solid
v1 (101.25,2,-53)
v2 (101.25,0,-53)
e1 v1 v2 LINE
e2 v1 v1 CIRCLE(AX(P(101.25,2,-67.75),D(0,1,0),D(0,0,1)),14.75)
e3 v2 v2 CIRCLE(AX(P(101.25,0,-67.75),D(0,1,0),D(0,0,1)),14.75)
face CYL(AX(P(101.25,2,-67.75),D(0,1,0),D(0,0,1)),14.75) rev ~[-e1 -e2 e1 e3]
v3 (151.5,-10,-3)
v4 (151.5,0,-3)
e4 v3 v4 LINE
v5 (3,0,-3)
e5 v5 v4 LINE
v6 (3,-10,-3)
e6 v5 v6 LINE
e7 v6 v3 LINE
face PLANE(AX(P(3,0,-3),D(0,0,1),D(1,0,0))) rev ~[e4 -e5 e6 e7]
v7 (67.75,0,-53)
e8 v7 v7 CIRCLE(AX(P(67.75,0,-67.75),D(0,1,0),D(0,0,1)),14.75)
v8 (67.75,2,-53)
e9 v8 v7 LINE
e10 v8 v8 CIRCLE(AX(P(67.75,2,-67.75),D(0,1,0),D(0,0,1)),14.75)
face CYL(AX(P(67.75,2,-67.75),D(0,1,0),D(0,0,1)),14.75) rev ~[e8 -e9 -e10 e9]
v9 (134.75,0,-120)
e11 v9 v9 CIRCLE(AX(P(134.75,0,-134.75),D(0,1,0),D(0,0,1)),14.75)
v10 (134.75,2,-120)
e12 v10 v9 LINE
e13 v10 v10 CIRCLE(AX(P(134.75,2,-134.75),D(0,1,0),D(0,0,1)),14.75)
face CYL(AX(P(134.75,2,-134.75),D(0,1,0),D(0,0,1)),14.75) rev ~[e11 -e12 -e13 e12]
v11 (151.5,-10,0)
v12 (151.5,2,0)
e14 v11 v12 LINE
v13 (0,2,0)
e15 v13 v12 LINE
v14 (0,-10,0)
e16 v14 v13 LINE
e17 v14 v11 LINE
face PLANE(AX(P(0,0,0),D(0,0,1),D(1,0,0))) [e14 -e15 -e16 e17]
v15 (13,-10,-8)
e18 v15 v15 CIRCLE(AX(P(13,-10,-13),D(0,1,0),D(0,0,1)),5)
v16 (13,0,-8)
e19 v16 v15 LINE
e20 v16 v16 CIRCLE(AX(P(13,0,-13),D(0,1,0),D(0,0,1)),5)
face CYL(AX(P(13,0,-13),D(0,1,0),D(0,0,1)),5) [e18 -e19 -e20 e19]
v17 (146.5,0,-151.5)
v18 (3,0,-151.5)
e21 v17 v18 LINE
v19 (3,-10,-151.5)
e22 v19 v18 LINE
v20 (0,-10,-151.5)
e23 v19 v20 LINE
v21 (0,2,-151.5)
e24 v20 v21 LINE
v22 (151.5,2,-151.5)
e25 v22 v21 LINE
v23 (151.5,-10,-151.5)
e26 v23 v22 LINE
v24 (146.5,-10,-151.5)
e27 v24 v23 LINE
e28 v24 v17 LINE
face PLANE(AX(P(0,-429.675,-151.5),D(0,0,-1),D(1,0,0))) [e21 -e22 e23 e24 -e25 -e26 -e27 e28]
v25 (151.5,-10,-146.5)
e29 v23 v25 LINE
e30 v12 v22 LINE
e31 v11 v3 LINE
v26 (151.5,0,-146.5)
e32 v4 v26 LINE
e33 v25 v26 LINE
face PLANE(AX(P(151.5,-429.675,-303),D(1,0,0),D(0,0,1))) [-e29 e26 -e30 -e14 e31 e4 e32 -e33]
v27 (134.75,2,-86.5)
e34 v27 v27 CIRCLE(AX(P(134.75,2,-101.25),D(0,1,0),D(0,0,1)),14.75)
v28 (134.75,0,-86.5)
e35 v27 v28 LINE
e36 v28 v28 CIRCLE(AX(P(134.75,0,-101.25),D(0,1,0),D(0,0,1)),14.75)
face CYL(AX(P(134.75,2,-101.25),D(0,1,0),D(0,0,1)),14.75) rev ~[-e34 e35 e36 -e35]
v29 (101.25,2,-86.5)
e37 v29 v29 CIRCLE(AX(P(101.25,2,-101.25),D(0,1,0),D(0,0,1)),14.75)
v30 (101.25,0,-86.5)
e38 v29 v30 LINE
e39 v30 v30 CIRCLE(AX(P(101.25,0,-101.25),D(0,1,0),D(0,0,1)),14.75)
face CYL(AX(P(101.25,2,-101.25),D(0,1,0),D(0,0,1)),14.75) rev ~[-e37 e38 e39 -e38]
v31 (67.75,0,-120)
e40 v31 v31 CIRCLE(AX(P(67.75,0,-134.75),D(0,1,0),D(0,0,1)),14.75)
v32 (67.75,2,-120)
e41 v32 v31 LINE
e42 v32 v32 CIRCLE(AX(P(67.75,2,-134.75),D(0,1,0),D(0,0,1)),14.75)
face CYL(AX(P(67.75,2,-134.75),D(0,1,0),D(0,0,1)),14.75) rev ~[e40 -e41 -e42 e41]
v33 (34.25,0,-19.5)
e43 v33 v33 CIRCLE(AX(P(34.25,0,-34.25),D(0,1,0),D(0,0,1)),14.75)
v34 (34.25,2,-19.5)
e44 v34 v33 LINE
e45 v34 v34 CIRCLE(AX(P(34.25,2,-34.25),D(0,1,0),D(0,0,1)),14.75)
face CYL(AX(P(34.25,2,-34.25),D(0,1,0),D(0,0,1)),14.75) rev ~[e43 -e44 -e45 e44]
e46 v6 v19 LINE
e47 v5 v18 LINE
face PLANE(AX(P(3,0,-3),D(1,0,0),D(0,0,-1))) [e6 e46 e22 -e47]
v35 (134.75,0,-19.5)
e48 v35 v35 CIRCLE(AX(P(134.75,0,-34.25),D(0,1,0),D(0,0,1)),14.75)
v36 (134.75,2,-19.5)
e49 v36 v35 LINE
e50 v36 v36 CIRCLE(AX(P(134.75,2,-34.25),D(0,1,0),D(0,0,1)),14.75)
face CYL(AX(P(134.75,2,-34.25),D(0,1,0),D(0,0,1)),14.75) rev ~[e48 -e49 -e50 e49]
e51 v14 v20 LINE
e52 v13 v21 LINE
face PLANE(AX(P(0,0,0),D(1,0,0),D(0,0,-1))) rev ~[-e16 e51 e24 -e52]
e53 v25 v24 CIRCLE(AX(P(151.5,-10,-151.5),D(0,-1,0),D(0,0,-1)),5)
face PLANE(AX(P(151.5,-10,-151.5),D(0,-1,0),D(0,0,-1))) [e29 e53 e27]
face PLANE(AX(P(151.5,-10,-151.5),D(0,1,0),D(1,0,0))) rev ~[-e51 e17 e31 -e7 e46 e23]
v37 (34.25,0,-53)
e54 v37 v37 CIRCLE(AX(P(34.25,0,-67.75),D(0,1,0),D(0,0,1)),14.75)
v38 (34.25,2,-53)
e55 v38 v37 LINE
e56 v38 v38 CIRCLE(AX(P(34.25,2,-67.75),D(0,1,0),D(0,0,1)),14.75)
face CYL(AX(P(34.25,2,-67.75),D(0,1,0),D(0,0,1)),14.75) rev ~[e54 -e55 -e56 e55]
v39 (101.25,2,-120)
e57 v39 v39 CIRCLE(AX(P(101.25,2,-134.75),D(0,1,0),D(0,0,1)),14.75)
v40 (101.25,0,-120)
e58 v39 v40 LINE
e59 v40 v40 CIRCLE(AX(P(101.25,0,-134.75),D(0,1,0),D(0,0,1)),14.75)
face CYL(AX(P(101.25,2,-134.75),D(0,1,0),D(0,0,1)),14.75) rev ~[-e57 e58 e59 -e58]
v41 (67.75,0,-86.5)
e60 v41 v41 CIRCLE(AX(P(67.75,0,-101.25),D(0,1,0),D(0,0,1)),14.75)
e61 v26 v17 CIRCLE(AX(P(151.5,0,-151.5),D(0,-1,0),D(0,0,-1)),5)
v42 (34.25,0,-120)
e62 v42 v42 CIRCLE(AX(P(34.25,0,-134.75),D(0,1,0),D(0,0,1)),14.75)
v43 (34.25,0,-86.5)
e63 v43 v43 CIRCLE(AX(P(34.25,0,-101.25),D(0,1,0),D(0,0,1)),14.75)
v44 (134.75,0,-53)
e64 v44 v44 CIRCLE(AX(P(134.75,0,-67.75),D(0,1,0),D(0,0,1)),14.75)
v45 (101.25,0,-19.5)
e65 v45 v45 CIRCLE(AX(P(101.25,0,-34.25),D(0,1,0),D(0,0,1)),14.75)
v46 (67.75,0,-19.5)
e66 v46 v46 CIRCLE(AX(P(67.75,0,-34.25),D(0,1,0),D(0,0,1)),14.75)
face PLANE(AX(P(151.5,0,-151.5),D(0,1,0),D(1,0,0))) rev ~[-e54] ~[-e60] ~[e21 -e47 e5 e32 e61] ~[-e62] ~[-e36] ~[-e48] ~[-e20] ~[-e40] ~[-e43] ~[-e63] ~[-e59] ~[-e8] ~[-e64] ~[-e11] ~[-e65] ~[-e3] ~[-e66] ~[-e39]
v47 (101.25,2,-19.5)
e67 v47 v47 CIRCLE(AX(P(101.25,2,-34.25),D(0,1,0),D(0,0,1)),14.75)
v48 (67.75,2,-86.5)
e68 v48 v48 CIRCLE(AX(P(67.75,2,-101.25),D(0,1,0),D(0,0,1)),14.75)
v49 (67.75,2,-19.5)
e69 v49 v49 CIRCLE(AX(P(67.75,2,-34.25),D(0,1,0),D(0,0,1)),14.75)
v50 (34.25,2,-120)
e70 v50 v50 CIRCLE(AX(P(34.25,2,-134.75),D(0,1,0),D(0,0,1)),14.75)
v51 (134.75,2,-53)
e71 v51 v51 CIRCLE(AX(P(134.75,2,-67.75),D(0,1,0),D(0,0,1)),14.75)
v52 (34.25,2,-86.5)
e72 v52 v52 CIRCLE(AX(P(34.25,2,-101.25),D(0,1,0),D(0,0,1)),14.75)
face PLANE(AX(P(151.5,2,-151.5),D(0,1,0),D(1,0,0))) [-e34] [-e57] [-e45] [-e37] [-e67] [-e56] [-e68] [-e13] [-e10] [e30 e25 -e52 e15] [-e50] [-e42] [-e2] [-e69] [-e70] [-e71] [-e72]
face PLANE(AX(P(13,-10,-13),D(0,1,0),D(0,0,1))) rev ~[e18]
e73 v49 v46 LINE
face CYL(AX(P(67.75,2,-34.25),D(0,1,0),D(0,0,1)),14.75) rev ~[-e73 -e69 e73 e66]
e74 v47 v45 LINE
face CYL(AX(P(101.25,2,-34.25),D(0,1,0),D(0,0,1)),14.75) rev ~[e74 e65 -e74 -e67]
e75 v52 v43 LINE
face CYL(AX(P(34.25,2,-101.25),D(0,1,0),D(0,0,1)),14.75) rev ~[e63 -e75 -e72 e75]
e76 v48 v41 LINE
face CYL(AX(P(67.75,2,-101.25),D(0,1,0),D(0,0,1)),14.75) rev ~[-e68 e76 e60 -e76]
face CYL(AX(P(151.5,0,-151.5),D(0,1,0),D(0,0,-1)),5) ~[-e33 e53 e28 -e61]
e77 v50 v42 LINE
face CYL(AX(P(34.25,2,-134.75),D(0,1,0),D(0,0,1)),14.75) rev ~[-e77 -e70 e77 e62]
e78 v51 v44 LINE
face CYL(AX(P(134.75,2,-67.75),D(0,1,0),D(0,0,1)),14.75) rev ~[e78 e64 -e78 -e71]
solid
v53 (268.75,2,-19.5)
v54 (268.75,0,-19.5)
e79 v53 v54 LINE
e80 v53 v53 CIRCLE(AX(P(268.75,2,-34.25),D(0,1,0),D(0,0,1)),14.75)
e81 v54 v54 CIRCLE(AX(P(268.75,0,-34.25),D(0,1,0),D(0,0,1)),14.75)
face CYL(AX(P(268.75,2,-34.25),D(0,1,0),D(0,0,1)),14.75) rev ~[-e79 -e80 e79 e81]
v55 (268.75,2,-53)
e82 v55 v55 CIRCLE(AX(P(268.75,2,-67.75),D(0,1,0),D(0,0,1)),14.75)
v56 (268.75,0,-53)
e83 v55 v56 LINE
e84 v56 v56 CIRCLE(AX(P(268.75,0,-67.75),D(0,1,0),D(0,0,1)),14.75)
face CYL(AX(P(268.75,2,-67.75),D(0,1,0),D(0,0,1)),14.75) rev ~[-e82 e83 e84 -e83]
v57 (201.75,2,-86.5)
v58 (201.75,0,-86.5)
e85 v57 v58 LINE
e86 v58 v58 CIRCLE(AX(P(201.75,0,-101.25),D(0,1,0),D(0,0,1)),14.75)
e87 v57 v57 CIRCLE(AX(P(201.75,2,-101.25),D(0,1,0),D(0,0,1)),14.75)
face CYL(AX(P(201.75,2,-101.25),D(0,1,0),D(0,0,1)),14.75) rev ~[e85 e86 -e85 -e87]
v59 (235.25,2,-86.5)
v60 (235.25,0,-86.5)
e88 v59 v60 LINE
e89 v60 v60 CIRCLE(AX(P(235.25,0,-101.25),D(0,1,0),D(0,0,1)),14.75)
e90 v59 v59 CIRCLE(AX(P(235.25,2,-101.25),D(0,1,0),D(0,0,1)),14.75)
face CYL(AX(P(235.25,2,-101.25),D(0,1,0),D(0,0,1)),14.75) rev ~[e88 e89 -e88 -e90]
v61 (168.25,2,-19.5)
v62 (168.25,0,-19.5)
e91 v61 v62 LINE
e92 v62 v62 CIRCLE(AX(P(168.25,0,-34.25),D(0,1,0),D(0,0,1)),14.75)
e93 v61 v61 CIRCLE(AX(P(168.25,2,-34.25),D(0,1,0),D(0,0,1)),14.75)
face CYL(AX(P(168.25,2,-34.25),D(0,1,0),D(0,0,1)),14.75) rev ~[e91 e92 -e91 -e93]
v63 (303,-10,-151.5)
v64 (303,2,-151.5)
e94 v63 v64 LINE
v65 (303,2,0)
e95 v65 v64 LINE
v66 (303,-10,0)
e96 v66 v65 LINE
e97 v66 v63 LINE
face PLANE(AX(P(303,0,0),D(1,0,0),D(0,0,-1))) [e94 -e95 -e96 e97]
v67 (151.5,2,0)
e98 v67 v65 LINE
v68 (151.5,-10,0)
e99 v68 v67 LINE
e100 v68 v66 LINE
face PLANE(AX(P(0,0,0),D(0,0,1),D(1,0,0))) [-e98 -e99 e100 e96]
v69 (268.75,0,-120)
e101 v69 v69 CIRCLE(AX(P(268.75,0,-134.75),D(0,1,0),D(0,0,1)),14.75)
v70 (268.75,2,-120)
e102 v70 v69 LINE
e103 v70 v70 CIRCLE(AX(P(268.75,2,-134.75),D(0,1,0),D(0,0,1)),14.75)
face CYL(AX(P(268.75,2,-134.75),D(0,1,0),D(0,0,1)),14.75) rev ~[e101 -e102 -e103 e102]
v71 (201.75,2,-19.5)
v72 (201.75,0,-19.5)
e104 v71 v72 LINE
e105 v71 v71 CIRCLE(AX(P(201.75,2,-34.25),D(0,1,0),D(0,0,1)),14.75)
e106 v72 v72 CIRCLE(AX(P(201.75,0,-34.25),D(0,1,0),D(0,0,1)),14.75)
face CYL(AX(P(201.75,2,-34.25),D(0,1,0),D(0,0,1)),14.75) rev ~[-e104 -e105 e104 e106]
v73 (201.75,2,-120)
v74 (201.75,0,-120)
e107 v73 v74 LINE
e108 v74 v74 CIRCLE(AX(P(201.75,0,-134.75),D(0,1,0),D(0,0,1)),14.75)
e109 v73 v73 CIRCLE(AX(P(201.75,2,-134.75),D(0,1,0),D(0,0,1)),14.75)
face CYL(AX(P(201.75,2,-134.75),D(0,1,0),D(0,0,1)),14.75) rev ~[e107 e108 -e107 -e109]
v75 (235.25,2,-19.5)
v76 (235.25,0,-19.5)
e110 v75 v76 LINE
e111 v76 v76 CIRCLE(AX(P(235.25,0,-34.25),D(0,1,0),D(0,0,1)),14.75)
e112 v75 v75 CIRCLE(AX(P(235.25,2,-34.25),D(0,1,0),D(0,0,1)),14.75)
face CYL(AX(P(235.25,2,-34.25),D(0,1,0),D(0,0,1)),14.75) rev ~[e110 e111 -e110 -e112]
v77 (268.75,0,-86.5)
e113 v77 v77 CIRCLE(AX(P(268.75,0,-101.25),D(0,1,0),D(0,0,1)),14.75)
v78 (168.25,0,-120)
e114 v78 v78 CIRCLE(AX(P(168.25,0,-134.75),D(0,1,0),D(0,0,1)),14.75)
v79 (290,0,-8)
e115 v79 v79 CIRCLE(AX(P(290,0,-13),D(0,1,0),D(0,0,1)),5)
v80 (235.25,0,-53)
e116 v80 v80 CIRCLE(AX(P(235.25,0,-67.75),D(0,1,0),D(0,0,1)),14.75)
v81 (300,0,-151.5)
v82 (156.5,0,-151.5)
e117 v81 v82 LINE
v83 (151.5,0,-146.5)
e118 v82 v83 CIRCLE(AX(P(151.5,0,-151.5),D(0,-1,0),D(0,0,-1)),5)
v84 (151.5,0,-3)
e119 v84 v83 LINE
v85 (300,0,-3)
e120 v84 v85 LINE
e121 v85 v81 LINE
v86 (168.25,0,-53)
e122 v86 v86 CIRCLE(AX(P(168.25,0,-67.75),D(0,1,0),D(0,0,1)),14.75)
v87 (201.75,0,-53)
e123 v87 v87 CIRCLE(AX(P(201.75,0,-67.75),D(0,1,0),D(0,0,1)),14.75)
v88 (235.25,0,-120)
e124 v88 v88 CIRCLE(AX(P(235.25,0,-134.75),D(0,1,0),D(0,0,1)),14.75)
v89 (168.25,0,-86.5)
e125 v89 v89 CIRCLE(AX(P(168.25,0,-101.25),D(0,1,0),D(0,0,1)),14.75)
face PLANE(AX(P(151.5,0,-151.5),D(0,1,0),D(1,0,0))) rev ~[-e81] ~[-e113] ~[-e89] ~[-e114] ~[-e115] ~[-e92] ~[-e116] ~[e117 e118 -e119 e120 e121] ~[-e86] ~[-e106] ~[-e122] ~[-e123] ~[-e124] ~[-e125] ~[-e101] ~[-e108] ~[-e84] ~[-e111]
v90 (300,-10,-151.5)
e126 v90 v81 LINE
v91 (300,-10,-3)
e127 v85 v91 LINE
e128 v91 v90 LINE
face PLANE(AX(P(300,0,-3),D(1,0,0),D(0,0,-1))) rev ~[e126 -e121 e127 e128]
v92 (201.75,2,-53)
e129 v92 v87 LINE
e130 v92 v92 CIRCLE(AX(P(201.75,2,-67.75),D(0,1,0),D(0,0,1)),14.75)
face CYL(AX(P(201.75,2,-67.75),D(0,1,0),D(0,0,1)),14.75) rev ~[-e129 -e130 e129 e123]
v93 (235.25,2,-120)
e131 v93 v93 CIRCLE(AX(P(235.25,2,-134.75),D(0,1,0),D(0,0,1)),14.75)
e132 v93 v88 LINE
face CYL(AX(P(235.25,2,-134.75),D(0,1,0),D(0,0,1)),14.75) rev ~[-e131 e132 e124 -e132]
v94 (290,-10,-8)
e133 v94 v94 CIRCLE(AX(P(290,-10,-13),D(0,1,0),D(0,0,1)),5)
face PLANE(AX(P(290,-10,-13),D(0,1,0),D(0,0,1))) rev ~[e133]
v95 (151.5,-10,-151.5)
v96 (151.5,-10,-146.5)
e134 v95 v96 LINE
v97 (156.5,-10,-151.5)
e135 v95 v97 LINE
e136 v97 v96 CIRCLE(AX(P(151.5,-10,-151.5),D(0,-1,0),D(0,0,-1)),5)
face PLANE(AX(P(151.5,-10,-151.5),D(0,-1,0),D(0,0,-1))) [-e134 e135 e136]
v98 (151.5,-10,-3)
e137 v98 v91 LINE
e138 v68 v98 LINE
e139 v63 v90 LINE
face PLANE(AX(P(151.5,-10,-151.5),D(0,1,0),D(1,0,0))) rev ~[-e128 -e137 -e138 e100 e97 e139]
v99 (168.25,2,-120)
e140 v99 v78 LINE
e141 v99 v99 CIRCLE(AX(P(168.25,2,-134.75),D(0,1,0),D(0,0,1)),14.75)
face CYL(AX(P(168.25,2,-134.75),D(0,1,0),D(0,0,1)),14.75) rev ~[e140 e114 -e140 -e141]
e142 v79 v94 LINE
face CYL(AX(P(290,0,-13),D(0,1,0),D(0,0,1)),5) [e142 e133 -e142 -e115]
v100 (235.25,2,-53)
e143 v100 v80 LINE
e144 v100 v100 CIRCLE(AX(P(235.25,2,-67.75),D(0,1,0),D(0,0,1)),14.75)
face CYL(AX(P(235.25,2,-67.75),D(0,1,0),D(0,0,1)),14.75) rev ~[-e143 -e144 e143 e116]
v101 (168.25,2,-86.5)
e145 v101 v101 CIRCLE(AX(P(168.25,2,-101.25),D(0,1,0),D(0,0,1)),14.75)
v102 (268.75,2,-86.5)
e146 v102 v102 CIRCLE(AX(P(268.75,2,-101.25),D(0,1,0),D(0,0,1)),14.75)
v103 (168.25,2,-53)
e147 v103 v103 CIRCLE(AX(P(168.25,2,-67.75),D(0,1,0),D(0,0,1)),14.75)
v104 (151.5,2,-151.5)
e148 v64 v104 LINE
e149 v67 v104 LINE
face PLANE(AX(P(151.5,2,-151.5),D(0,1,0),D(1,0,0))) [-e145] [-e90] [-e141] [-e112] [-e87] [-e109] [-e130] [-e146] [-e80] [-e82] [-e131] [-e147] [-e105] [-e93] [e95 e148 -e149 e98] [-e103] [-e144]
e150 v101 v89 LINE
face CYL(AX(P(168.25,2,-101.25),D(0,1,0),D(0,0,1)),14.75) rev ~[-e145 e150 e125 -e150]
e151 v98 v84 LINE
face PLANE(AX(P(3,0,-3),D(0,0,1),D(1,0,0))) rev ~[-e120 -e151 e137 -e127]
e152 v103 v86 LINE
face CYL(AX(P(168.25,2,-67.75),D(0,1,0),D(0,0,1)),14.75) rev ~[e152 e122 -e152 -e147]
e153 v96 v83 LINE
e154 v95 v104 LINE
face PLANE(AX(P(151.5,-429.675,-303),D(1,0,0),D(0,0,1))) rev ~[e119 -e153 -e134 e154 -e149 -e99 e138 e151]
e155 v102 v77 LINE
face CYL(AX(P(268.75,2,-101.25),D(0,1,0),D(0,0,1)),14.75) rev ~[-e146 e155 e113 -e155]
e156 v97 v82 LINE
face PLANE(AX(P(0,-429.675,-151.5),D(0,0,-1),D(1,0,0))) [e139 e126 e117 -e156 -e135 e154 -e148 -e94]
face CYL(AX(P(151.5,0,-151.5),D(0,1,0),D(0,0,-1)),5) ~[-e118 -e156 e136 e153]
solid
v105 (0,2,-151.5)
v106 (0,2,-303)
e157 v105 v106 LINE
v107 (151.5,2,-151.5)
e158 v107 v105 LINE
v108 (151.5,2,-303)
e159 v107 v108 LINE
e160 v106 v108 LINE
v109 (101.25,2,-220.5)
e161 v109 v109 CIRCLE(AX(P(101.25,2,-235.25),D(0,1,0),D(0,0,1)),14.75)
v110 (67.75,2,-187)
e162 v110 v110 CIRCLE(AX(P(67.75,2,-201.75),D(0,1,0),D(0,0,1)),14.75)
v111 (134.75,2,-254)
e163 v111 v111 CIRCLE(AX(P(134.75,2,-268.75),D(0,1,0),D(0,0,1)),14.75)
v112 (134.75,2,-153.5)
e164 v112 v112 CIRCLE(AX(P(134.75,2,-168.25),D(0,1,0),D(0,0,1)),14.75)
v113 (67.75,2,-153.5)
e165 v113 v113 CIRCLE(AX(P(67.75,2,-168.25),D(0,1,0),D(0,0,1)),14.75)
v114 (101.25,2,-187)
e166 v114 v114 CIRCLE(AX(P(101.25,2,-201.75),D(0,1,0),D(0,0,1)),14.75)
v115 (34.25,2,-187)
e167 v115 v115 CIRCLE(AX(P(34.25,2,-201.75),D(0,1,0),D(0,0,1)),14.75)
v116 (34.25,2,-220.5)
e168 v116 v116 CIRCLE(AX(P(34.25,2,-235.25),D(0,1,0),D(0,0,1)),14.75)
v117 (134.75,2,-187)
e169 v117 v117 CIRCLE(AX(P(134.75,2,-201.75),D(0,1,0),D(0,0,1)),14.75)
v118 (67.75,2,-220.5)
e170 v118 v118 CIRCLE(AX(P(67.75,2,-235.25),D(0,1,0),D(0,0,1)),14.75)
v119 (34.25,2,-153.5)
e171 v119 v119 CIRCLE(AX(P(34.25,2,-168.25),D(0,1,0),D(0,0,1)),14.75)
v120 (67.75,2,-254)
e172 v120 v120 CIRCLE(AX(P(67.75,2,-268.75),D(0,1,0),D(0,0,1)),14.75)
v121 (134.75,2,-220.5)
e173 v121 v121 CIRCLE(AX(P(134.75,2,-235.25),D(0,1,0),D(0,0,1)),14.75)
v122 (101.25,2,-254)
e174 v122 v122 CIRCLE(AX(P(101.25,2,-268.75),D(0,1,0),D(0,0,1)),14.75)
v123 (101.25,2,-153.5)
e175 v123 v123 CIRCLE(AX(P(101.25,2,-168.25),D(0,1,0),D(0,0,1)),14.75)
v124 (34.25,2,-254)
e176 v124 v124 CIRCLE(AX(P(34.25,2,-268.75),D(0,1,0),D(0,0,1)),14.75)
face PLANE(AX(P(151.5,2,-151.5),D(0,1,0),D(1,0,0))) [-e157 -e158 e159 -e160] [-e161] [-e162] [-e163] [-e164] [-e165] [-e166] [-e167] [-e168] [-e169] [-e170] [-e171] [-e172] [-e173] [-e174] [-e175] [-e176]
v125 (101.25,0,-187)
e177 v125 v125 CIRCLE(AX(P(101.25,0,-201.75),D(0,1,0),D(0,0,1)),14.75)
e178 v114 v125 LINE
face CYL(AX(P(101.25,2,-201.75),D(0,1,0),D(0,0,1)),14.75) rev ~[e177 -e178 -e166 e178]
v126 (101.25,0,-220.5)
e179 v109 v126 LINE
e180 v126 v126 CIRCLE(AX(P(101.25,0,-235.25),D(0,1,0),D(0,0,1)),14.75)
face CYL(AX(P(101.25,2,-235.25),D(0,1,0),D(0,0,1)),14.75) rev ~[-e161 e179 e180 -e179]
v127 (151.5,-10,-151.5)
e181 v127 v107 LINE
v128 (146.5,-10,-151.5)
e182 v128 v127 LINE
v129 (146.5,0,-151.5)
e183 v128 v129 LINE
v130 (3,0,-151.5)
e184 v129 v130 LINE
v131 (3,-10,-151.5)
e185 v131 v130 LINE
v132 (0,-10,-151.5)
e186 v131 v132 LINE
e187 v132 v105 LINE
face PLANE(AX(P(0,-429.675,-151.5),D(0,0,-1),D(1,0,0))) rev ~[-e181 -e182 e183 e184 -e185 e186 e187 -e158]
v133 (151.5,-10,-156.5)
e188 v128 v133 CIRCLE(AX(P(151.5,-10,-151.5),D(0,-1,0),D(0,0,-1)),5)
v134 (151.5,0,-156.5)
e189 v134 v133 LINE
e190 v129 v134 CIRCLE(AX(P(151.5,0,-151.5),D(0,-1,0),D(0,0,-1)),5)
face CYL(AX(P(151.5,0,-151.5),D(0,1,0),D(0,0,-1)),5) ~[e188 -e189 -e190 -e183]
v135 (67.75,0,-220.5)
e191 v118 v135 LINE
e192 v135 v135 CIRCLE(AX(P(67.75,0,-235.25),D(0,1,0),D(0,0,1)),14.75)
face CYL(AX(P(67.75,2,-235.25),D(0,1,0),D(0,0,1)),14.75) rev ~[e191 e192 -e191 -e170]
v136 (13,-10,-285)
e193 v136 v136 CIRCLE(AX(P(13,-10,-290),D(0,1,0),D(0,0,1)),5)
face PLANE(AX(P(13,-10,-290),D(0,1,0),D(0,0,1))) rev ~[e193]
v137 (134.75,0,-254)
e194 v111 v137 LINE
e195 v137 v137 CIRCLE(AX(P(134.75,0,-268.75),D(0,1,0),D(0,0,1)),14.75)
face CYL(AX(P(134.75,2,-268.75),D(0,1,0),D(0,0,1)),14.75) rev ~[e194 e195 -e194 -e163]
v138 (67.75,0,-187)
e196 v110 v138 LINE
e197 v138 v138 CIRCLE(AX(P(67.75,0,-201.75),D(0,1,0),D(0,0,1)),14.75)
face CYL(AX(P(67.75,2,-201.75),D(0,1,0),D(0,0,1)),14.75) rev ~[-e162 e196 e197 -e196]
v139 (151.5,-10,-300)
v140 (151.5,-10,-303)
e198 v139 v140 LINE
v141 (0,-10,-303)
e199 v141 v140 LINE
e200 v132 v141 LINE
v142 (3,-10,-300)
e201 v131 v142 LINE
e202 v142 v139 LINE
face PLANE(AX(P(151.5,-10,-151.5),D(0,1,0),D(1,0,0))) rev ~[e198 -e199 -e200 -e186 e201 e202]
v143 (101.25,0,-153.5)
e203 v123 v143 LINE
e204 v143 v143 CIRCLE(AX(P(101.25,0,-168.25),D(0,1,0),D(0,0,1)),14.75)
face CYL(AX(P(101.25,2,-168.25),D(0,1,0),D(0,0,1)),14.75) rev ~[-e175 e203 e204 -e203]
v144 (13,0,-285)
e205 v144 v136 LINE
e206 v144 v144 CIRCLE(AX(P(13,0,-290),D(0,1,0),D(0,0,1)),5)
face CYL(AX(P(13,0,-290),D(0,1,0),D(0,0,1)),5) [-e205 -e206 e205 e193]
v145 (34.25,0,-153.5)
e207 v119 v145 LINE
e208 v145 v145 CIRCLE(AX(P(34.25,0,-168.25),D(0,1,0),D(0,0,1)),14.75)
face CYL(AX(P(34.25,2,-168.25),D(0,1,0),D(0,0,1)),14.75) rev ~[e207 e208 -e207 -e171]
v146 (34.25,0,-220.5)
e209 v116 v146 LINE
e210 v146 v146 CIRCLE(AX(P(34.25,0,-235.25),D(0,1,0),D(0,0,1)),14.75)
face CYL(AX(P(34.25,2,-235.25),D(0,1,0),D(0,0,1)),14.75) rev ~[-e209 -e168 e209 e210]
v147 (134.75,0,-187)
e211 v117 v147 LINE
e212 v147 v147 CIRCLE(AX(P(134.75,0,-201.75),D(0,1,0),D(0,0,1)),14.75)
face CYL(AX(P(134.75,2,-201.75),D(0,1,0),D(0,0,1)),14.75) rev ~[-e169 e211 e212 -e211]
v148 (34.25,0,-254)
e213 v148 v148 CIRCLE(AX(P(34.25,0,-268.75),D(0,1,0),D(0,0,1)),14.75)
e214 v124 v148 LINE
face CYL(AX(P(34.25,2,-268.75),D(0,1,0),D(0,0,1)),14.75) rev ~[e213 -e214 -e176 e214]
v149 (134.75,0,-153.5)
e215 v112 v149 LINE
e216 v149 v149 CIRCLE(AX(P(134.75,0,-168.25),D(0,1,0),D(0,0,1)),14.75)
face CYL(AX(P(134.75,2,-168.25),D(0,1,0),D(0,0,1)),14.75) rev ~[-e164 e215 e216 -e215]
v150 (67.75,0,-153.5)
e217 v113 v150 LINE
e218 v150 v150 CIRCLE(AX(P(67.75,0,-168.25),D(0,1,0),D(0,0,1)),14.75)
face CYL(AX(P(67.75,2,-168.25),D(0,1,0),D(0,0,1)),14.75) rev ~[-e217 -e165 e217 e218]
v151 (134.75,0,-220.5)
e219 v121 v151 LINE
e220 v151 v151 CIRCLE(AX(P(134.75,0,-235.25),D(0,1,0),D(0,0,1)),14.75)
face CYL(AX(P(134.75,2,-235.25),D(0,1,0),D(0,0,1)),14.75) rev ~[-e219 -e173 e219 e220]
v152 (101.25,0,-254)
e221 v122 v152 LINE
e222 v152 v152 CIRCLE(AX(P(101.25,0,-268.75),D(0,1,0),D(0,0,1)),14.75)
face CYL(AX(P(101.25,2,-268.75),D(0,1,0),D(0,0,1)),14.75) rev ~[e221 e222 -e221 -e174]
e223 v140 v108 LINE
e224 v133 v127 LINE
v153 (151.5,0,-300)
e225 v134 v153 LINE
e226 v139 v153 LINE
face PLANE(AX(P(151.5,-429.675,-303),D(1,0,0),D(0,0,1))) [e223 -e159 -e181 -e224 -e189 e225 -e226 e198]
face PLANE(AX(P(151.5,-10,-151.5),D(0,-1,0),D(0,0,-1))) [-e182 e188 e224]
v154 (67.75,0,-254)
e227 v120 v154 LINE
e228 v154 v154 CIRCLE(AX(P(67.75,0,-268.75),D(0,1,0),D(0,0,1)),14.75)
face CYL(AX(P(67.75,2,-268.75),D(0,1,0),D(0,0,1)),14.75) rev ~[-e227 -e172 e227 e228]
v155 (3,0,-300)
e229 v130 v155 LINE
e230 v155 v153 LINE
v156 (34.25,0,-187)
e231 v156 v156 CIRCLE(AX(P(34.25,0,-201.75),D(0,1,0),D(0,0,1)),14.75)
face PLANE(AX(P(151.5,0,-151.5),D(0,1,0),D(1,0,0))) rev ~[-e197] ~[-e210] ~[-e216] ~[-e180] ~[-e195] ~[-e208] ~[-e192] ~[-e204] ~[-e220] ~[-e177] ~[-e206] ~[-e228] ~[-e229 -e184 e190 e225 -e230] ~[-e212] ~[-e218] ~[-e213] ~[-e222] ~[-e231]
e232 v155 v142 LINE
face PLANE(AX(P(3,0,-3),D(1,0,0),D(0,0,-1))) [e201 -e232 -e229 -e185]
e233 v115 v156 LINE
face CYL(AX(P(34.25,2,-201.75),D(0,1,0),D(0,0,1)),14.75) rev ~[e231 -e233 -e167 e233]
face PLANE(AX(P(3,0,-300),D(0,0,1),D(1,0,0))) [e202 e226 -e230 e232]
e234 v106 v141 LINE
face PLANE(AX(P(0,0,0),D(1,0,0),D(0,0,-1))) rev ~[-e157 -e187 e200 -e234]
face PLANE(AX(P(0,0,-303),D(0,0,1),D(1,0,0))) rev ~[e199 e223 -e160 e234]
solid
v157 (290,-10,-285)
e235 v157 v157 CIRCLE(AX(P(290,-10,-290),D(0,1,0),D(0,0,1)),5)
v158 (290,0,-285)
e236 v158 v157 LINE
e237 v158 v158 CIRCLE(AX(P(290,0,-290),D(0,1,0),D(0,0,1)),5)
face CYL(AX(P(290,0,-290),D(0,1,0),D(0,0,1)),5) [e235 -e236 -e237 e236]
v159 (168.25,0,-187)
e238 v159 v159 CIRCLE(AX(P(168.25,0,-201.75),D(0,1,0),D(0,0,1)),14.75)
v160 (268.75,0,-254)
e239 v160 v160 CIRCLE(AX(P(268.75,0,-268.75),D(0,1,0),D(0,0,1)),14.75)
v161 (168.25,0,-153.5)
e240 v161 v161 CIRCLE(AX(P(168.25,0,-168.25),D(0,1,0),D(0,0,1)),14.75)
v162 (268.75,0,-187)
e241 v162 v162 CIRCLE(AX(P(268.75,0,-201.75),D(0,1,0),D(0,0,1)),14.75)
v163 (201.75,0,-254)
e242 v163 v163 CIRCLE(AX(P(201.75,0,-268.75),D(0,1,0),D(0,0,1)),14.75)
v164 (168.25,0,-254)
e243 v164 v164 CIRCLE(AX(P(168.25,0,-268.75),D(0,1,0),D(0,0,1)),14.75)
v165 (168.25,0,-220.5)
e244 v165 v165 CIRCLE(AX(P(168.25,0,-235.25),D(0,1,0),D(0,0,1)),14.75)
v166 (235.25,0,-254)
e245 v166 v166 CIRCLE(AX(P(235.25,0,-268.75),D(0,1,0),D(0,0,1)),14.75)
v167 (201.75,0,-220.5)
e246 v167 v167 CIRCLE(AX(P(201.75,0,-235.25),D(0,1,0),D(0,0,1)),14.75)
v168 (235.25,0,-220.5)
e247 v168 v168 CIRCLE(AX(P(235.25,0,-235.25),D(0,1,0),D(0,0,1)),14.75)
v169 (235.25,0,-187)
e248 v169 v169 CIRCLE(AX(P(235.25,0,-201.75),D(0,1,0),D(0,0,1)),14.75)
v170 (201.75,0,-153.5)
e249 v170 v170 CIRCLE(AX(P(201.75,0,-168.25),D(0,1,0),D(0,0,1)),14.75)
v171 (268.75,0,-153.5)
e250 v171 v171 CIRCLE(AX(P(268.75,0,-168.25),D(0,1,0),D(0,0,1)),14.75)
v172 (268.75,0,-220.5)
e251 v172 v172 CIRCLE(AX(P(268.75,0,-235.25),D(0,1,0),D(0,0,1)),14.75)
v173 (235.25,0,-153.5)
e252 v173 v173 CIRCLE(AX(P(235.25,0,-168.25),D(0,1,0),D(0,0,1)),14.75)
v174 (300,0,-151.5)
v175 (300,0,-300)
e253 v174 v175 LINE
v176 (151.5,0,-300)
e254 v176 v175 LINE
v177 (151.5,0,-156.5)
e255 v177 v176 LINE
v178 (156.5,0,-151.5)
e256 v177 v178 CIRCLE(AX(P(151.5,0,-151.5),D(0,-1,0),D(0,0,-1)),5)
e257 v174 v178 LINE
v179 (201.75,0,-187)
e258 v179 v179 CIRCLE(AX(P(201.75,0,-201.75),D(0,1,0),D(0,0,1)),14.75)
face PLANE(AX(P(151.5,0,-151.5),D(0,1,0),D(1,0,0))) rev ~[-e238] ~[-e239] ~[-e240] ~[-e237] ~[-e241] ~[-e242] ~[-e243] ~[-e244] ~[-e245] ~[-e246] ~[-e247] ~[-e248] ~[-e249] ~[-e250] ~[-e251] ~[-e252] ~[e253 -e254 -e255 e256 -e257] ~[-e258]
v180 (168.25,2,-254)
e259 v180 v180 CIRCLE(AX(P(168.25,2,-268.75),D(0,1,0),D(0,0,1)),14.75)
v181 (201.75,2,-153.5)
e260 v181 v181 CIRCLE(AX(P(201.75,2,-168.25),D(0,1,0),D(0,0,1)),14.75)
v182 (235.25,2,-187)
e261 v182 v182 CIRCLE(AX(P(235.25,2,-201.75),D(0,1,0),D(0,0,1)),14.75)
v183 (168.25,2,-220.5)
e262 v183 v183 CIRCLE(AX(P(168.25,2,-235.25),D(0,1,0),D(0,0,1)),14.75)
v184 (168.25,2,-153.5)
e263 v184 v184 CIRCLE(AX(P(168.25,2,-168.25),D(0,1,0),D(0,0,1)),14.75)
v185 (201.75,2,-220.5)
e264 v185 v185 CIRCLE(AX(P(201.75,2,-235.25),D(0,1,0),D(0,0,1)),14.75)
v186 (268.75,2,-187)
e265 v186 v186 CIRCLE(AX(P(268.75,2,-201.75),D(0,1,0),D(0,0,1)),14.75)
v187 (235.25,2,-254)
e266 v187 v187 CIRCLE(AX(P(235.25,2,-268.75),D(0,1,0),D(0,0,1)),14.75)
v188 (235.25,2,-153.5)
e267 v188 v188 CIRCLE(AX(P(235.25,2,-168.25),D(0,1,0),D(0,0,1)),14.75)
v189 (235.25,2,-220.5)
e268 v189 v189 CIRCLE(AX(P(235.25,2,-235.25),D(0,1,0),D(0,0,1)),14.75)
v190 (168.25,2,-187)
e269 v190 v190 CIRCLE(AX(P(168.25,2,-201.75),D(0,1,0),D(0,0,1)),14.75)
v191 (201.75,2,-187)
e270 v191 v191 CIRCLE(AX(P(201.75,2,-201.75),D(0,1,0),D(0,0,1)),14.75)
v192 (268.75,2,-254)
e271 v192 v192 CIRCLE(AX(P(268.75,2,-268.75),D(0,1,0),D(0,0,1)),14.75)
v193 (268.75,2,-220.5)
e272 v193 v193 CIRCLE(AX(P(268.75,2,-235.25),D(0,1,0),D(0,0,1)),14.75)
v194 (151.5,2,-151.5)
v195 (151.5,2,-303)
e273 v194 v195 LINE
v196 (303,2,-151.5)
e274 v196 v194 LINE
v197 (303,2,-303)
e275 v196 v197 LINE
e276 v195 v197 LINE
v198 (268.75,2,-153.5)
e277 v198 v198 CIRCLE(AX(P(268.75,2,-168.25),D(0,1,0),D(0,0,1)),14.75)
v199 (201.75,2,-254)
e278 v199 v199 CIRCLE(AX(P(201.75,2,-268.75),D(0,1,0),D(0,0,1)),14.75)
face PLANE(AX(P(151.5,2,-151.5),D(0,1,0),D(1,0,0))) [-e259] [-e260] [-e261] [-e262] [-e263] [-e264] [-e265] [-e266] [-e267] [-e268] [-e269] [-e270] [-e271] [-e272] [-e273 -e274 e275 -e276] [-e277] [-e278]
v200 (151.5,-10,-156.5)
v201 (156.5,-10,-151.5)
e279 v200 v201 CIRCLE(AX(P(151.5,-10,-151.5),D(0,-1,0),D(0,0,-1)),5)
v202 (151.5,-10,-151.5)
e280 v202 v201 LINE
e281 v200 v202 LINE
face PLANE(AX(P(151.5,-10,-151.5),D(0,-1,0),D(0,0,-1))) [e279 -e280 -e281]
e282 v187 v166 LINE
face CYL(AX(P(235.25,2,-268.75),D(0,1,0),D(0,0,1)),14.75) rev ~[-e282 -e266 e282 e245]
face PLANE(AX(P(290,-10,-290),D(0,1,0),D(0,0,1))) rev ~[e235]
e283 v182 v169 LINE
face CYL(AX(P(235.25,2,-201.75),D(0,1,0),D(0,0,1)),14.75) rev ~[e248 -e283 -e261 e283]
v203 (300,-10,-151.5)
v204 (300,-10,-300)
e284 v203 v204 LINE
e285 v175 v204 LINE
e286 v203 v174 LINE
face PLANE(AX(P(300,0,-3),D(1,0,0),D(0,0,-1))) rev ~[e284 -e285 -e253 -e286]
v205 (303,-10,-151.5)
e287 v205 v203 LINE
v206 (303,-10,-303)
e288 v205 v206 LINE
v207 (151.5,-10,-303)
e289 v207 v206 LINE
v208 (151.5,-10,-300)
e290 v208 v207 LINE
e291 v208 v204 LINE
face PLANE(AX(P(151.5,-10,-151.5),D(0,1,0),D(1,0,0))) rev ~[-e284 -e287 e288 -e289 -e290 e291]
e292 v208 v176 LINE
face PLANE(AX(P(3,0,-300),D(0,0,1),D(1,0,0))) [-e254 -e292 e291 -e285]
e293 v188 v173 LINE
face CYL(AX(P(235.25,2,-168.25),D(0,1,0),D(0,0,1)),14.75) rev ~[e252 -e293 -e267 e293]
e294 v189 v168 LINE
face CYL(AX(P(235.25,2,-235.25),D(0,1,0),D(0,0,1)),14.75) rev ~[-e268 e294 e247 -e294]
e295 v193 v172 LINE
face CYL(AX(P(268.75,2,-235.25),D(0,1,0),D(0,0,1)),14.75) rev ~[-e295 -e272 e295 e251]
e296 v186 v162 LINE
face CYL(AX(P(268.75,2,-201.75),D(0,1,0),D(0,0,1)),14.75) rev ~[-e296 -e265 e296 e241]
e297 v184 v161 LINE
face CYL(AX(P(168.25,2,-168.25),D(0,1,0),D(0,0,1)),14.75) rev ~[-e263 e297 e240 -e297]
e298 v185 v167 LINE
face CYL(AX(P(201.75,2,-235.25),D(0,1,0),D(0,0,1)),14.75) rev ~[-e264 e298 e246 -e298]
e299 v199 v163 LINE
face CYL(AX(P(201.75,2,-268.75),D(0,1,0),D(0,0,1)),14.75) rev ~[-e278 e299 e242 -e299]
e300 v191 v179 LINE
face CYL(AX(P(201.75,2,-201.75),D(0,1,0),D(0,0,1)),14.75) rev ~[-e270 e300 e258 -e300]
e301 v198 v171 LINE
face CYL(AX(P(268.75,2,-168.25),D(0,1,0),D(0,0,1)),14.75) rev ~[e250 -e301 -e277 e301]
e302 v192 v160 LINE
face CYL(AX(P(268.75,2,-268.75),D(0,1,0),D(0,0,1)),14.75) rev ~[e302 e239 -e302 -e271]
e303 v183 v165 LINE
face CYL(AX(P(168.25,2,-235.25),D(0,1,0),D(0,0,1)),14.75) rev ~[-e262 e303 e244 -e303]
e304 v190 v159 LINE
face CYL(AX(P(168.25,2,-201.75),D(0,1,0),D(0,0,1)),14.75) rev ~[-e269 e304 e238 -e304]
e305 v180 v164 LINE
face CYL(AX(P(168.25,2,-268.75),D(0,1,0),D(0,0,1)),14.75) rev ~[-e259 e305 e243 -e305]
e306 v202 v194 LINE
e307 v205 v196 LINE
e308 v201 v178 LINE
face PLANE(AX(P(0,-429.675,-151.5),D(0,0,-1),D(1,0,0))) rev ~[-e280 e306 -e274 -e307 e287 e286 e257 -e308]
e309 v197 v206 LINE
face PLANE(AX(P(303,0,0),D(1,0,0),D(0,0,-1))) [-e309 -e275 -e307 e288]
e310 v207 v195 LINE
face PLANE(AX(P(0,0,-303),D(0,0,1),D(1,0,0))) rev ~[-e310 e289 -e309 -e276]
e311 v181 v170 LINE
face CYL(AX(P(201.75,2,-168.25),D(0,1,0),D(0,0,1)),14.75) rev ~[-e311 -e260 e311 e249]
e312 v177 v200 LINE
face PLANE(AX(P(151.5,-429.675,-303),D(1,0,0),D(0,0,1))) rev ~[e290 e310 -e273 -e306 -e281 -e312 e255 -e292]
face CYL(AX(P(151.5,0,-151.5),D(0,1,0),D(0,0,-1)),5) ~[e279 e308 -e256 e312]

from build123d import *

# Parameters (mm, degrees)
SKETCH5_W                = 303
SKETCH5_H                = 303
BOSS_EXTRUDE4_DEPTH      = 2
SKETCH7_R                = 14.75
CUT_EXTRUDE5_DEPTH       = 429.511376745
LPATTERN7_COUNT          = 8
LPATTERN7_PITCH          = 33.5
LPATTERN7_COUNT_DIR2     = 8
LPATTERN7_PITCH_DIR2     = 33.5
SKETCH14_W               = 303
SKETCH14_H               = 303
BOSS_EXTRUDE7_DEPTH      = 10
SKETCH15_W               = 297
SKETCH15_H               = 297
CUT_EXTRUDE6_DEPTH       = 10
SKETCH16_R               = 5
BOSS_EXTRUDE8_DEPTH      = 10
SKETCH17_R               = 5
BOSS_EXTRUDE10_DEPTH     = 10
SKETCH18_R               = 5
BOSS_EXTRUDE11_DEPTH     = 10
SPLIT1_SURFACE_1_1_BACK  = 429.675
SPLIT1_SURFACE_1_1_DEPTH = 859.35
SPLIT1_SURFACE_1_2_BACK  = 429.675
SPLIT1_SURFACE_1_2_DEPTH = 859.35
SPLIT1_SURFACE_2_3_BACK  = 429.675
SPLIT1_SURFACE_2_3_DEPTH = 859.35
SPLIT1_SURFACE_2_4_BACK  = 429.675
SPLIT1_SURFACE_2_4_DEPTH = 859.35
SPLIT1_SURFACE_2_5_BACK  = 429.675
SPLIT1_SURFACE_2_5_DEPTH = 859.35
SPLIT1_SURFACE_2_6_BACK  = 429.675
SPLIT1_SURFACE_2_6_DEPTH = 859.35


with BuildPart() as part:
    # Sketch5 → Boss-Extrude4 (new body)
    with BuildSketch(Plane(origin=(0, 0, 0), x_dir=(1, 0, 0), z_dir=(0, 1, 0))):
        with Locations((151.5, 151.5)):
            Rectangle(SKETCH5_W, SKETCH5_H)
    extrude(amount=BOSS_EXTRUDE4_DEPTH)

    # Sketch7 → Cut-Extrude5 (cut, through all)
    with BuildSketch(Plane(origin=(0, 2, 0), x_dir=(1, 0, 0), z_dir=(0, 1, 0))):
        with Locations(Location((34.25, 34.25, 0), (0, 0, 270))):
            Circle(SKETCH7_R)
    cut_extrude5 = extrude(amount=-CUT_EXTRUDE5_DEPTH, mode=Mode.SUBTRACT)

    # LPattern7: Cut-Extrude5 8 × 8
    with Locations(*[(j * LPATTERN7_PITCH_DIR2, 0, -i * LPATTERN7_PITCH) for i in range(LPATTERN7_COUNT) for j in range(LPATTERN7_COUNT_DIR2) if (i, j) != (0, 0)]):
        add(cut_extrude5, mode=Mode.SUBTRACT)

    # Sketch14 → Boss-Extrude7 (add)
    with BuildSketch(Plane(origin=(0, 0, 0), x_dir=(1, 0, 0), z_dir=(0, 1, 0))):
        with Locations((151.5, 151.5)):
            Rectangle(SKETCH14_W, SKETCH14_H)
    extrude(amount=-BOSS_EXTRUDE7_DEPTH)

    # Sketch15 → Cut-Extrude6 (cut)
    with BuildSketch(Plane(origin=(0, 0, 0), x_dir=(1, 0, 0), z_dir=(0, 1, 0))):
        with Locations((151.5, 151.5)):
            Rectangle(SKETCH15_W, SKETCH15_H)
    extrude(amount=-CUT_EXTRUDE6_DEPTH, mode=Mode.SUBTRACT)

    # Sketch16 → Boss-Extrude8 (add)
    with BuildSketch(Plane(origin=(0, 0, 0), x_dir=(-1, 0, 0), z_dir=(0, -1, 0))):
        with Locations(Location((-151.5, 151.5, 0), (0, 0, 90))):
            Circle(SKETCH16_R)
    extrude(amount=BOSS_EXTRUDE8_DEPTH)

    # Sketch17 → Boss-Extrude10 (add)
    with BuildSketch(Plane(origin=(0, 0, 0), x_dir=(1, 0, 0), z_dir=(0, 1, 0))):
        with Locations(Location((13, 13, 0), (0, 0, 270))):
            Circle(SKETCH17_R)
    extrude(amount=-BOSS_EXTRUDE10_DEPTH)

    # Sketch18 → Boss-Extrude11 (add)
    with BuildSketch(Plane(origin=(0, 0, 0), x_dir=(1, 0, 0), z_dir=(0, 1, 0))):
        with Locations(Location((13, 290, 0), (0, 0, 270))):
            Circle(SKETCH18_R)
        with Locations(Location((290, 290, 0), (0, 0, 270))):
            Circle(SKETCH18_R)
        with Locations(Location((290, 13, 0), (0, 0, 270))):
            Circle(SKETCH18_R)
    extrude(amount=-BOSS_EXTRUDE11_DEPTH)


with BuildPart() as body_2:
    # Split1: the piece behind the surface
    add(part.part)
    # Split1 surface 1: a surface, the sketch's curves swept straight by 859.35 mm
    with BuildLine(Plane(origin=(0, 0, 0), x_dir=(1, 0, 0), z_dir=(0, 1, 0)).offset(-SPLIT1_SURFACE_1_1_BACK), mode=Mode.PRIVATE) as split1_surface_1_1_path:
        Line((151.5, 303), (151.5, 0))
    split1_surface_1_1 = Shell.extrude(split1_surface_1_1_path.wire(), (0 * SPLIT1_SURFACE_1_1_DEPTH, 1 * SPLIT1_SURFACE_1_1_DEPTH, 0 * SPLIT1_SURFACE_1_1_DEPTH))
    split(bisect_by=split1_surface_1_1, keep=Keep.BOTTOM)


with BuildPart() as part_1:
    add(part.part)

    # Split1: split by a surface, the side it looks to stays
    # Split1 surface 1: a surface, the sketch's curves swept straight by 859.35 mm
    with BuildLine(Plane(origin=(0, 0, 0), x_dir=(1, 0, 0), z_dir=(0, 1, 0)).offset(-SPLIT1_SURFACE_1_2_BACK), mode=Mode.PRIVATE) as split1_surface_1_2_path:
        Line((151.5, 303), (151.5, 0))
    split1_surface_1_2 = Shell.extrude(split1_surface_1_2_path.wire(), (0 * SPLIT1_SURFACE_1_2_DEPTH, 1 * SPLIT1_SURFACE_1_2_DEPTH, 0 * SPLIT1_SURFACE_1_2_DEPTH))
    split(bisect_by=split1_surface_1_2, keep=Keep.TOP)


with BuildPart() as body_3:
    # Split1 2: the piece behind the surface
    add(part_1.part)
    # Split1 surface 2: a surface, the sketch's curves swept straight by 859.35 mm
    with BuildLine(Plane(origin=(0, 0, 0), x_dir=(1, 0, 0), z_dir=(0, 1, 0)).offset(-SPLIT1_SURFACE_2_3_BACK), mode=Mode.PRIVATE) as split1_surface_2_3_path:
        Line((0, 151.5), (303, 151.5))
    split1_surface_2_3 = Shell.extrude(split1_surface_2_3_path.wire(), (0 * SPLIT1_SURFACE_2_3_DEPTH, 1 * SPLIT1_SURFACE_2_3_DEPTH, 0 * SPLIT1_SURFACE_2_3_DEPTH))
    split(bisect_by=split1_surface_2_3, keep=Keep.BOTTOM)


with BuildPart() as part_2:
    add(part_1.part)

    # Split1 2: split by a surface, the side it looks to stays
    # Split1 surface 2: a surface, the sketch's curves swept straight by 859.35 mm
    with BuildLine(Plane(origin=(0, 0, 0), x_dir=(1, 0, 0), z_dir=(0, 1, 0)).offset(-SPLIT1_SURFACE_2_4_BACK), mode=Mode.PRIVATE) as split1_surface_2_4_path:
        Line((0, 151.5), (303, 151.5))
    split1_surface_2_4 = Shell.extrude(split1_surface_2_4_path.wire(), (0 * SPLIT1_SURFACE_2_4_DEPTH, 1 * SPLIT1_SURFACE_2_4_DEPTH, 0 * SPLIT1_SURFACE_2_4_DEPTH))
    split(bisect_by=split1_surface_2_4, keep=Keep.TOP)


with BuildPart() as body_4:
    # Split1 2 body 2: the piece behind the surface
    add(body_2.part)
    # Split1 surface 2: a surface, the sketch's curves swept straight by 859.35 mm
    with BuildLine(Plane(origin=(0, 0, 0), x_dir=(1, 0, 0), z_dir=(0, 1, 0)).offset(-SPLIT1_SURFACE_2_5_BACK), mode=Mode.PRIVATE) as split1_surface_2_5_path:
        Line((0, 151.5), (303, 151.5))
    split1_surface_2_5 = Shell.extrude(split1_surface_2_5_path.wire(), (0 * SPLIT1_SURFACE_2_5_DEPTH, 1 * SPLIT1_SURFACE_2_5_DEPTH, 0 * SPLIT1_SURFACE_2_5_DEPTH))
    split(bisect_by=split1_surface_2_5, keep=Keep.BOTTOM)


with BuildPart() as body_2_1:
    add(body_2.part)

    # Split1 2 body 2: split by a surface, the side it looks to stays
    # Split1 surface 2: a surface, the sketch's curves swept straight by 859.35 mm
    with BuildLine(Plane(origin=(0, 0, 0), x_dir=(1, 0, 0), z_dir=(0, 1, 0)).offset(-SPLIT1_SURFACE_2_6_BACK), mode=Mode.PRIVATE) as split1_surface_2_6_path:
        Line((0, 151.5), (303, 151.5))
    split1_surface_2_6 = Shell.extrude(split1_surface_2_6_path.wire(), (0 * SPLIT1_SURFACE_2_6_DEPTH, 1 * SPLIT1_SURFACE_2_6_DEPTH, 0 * SPLIT1_SURFACE_2_6_DEPTH))
    split(bisect_by=split1_surface_2_6, keep=Keep.TOP)


solid = Compound([body_3.part, part_2.part, body_4.part, body_2_1.part])
